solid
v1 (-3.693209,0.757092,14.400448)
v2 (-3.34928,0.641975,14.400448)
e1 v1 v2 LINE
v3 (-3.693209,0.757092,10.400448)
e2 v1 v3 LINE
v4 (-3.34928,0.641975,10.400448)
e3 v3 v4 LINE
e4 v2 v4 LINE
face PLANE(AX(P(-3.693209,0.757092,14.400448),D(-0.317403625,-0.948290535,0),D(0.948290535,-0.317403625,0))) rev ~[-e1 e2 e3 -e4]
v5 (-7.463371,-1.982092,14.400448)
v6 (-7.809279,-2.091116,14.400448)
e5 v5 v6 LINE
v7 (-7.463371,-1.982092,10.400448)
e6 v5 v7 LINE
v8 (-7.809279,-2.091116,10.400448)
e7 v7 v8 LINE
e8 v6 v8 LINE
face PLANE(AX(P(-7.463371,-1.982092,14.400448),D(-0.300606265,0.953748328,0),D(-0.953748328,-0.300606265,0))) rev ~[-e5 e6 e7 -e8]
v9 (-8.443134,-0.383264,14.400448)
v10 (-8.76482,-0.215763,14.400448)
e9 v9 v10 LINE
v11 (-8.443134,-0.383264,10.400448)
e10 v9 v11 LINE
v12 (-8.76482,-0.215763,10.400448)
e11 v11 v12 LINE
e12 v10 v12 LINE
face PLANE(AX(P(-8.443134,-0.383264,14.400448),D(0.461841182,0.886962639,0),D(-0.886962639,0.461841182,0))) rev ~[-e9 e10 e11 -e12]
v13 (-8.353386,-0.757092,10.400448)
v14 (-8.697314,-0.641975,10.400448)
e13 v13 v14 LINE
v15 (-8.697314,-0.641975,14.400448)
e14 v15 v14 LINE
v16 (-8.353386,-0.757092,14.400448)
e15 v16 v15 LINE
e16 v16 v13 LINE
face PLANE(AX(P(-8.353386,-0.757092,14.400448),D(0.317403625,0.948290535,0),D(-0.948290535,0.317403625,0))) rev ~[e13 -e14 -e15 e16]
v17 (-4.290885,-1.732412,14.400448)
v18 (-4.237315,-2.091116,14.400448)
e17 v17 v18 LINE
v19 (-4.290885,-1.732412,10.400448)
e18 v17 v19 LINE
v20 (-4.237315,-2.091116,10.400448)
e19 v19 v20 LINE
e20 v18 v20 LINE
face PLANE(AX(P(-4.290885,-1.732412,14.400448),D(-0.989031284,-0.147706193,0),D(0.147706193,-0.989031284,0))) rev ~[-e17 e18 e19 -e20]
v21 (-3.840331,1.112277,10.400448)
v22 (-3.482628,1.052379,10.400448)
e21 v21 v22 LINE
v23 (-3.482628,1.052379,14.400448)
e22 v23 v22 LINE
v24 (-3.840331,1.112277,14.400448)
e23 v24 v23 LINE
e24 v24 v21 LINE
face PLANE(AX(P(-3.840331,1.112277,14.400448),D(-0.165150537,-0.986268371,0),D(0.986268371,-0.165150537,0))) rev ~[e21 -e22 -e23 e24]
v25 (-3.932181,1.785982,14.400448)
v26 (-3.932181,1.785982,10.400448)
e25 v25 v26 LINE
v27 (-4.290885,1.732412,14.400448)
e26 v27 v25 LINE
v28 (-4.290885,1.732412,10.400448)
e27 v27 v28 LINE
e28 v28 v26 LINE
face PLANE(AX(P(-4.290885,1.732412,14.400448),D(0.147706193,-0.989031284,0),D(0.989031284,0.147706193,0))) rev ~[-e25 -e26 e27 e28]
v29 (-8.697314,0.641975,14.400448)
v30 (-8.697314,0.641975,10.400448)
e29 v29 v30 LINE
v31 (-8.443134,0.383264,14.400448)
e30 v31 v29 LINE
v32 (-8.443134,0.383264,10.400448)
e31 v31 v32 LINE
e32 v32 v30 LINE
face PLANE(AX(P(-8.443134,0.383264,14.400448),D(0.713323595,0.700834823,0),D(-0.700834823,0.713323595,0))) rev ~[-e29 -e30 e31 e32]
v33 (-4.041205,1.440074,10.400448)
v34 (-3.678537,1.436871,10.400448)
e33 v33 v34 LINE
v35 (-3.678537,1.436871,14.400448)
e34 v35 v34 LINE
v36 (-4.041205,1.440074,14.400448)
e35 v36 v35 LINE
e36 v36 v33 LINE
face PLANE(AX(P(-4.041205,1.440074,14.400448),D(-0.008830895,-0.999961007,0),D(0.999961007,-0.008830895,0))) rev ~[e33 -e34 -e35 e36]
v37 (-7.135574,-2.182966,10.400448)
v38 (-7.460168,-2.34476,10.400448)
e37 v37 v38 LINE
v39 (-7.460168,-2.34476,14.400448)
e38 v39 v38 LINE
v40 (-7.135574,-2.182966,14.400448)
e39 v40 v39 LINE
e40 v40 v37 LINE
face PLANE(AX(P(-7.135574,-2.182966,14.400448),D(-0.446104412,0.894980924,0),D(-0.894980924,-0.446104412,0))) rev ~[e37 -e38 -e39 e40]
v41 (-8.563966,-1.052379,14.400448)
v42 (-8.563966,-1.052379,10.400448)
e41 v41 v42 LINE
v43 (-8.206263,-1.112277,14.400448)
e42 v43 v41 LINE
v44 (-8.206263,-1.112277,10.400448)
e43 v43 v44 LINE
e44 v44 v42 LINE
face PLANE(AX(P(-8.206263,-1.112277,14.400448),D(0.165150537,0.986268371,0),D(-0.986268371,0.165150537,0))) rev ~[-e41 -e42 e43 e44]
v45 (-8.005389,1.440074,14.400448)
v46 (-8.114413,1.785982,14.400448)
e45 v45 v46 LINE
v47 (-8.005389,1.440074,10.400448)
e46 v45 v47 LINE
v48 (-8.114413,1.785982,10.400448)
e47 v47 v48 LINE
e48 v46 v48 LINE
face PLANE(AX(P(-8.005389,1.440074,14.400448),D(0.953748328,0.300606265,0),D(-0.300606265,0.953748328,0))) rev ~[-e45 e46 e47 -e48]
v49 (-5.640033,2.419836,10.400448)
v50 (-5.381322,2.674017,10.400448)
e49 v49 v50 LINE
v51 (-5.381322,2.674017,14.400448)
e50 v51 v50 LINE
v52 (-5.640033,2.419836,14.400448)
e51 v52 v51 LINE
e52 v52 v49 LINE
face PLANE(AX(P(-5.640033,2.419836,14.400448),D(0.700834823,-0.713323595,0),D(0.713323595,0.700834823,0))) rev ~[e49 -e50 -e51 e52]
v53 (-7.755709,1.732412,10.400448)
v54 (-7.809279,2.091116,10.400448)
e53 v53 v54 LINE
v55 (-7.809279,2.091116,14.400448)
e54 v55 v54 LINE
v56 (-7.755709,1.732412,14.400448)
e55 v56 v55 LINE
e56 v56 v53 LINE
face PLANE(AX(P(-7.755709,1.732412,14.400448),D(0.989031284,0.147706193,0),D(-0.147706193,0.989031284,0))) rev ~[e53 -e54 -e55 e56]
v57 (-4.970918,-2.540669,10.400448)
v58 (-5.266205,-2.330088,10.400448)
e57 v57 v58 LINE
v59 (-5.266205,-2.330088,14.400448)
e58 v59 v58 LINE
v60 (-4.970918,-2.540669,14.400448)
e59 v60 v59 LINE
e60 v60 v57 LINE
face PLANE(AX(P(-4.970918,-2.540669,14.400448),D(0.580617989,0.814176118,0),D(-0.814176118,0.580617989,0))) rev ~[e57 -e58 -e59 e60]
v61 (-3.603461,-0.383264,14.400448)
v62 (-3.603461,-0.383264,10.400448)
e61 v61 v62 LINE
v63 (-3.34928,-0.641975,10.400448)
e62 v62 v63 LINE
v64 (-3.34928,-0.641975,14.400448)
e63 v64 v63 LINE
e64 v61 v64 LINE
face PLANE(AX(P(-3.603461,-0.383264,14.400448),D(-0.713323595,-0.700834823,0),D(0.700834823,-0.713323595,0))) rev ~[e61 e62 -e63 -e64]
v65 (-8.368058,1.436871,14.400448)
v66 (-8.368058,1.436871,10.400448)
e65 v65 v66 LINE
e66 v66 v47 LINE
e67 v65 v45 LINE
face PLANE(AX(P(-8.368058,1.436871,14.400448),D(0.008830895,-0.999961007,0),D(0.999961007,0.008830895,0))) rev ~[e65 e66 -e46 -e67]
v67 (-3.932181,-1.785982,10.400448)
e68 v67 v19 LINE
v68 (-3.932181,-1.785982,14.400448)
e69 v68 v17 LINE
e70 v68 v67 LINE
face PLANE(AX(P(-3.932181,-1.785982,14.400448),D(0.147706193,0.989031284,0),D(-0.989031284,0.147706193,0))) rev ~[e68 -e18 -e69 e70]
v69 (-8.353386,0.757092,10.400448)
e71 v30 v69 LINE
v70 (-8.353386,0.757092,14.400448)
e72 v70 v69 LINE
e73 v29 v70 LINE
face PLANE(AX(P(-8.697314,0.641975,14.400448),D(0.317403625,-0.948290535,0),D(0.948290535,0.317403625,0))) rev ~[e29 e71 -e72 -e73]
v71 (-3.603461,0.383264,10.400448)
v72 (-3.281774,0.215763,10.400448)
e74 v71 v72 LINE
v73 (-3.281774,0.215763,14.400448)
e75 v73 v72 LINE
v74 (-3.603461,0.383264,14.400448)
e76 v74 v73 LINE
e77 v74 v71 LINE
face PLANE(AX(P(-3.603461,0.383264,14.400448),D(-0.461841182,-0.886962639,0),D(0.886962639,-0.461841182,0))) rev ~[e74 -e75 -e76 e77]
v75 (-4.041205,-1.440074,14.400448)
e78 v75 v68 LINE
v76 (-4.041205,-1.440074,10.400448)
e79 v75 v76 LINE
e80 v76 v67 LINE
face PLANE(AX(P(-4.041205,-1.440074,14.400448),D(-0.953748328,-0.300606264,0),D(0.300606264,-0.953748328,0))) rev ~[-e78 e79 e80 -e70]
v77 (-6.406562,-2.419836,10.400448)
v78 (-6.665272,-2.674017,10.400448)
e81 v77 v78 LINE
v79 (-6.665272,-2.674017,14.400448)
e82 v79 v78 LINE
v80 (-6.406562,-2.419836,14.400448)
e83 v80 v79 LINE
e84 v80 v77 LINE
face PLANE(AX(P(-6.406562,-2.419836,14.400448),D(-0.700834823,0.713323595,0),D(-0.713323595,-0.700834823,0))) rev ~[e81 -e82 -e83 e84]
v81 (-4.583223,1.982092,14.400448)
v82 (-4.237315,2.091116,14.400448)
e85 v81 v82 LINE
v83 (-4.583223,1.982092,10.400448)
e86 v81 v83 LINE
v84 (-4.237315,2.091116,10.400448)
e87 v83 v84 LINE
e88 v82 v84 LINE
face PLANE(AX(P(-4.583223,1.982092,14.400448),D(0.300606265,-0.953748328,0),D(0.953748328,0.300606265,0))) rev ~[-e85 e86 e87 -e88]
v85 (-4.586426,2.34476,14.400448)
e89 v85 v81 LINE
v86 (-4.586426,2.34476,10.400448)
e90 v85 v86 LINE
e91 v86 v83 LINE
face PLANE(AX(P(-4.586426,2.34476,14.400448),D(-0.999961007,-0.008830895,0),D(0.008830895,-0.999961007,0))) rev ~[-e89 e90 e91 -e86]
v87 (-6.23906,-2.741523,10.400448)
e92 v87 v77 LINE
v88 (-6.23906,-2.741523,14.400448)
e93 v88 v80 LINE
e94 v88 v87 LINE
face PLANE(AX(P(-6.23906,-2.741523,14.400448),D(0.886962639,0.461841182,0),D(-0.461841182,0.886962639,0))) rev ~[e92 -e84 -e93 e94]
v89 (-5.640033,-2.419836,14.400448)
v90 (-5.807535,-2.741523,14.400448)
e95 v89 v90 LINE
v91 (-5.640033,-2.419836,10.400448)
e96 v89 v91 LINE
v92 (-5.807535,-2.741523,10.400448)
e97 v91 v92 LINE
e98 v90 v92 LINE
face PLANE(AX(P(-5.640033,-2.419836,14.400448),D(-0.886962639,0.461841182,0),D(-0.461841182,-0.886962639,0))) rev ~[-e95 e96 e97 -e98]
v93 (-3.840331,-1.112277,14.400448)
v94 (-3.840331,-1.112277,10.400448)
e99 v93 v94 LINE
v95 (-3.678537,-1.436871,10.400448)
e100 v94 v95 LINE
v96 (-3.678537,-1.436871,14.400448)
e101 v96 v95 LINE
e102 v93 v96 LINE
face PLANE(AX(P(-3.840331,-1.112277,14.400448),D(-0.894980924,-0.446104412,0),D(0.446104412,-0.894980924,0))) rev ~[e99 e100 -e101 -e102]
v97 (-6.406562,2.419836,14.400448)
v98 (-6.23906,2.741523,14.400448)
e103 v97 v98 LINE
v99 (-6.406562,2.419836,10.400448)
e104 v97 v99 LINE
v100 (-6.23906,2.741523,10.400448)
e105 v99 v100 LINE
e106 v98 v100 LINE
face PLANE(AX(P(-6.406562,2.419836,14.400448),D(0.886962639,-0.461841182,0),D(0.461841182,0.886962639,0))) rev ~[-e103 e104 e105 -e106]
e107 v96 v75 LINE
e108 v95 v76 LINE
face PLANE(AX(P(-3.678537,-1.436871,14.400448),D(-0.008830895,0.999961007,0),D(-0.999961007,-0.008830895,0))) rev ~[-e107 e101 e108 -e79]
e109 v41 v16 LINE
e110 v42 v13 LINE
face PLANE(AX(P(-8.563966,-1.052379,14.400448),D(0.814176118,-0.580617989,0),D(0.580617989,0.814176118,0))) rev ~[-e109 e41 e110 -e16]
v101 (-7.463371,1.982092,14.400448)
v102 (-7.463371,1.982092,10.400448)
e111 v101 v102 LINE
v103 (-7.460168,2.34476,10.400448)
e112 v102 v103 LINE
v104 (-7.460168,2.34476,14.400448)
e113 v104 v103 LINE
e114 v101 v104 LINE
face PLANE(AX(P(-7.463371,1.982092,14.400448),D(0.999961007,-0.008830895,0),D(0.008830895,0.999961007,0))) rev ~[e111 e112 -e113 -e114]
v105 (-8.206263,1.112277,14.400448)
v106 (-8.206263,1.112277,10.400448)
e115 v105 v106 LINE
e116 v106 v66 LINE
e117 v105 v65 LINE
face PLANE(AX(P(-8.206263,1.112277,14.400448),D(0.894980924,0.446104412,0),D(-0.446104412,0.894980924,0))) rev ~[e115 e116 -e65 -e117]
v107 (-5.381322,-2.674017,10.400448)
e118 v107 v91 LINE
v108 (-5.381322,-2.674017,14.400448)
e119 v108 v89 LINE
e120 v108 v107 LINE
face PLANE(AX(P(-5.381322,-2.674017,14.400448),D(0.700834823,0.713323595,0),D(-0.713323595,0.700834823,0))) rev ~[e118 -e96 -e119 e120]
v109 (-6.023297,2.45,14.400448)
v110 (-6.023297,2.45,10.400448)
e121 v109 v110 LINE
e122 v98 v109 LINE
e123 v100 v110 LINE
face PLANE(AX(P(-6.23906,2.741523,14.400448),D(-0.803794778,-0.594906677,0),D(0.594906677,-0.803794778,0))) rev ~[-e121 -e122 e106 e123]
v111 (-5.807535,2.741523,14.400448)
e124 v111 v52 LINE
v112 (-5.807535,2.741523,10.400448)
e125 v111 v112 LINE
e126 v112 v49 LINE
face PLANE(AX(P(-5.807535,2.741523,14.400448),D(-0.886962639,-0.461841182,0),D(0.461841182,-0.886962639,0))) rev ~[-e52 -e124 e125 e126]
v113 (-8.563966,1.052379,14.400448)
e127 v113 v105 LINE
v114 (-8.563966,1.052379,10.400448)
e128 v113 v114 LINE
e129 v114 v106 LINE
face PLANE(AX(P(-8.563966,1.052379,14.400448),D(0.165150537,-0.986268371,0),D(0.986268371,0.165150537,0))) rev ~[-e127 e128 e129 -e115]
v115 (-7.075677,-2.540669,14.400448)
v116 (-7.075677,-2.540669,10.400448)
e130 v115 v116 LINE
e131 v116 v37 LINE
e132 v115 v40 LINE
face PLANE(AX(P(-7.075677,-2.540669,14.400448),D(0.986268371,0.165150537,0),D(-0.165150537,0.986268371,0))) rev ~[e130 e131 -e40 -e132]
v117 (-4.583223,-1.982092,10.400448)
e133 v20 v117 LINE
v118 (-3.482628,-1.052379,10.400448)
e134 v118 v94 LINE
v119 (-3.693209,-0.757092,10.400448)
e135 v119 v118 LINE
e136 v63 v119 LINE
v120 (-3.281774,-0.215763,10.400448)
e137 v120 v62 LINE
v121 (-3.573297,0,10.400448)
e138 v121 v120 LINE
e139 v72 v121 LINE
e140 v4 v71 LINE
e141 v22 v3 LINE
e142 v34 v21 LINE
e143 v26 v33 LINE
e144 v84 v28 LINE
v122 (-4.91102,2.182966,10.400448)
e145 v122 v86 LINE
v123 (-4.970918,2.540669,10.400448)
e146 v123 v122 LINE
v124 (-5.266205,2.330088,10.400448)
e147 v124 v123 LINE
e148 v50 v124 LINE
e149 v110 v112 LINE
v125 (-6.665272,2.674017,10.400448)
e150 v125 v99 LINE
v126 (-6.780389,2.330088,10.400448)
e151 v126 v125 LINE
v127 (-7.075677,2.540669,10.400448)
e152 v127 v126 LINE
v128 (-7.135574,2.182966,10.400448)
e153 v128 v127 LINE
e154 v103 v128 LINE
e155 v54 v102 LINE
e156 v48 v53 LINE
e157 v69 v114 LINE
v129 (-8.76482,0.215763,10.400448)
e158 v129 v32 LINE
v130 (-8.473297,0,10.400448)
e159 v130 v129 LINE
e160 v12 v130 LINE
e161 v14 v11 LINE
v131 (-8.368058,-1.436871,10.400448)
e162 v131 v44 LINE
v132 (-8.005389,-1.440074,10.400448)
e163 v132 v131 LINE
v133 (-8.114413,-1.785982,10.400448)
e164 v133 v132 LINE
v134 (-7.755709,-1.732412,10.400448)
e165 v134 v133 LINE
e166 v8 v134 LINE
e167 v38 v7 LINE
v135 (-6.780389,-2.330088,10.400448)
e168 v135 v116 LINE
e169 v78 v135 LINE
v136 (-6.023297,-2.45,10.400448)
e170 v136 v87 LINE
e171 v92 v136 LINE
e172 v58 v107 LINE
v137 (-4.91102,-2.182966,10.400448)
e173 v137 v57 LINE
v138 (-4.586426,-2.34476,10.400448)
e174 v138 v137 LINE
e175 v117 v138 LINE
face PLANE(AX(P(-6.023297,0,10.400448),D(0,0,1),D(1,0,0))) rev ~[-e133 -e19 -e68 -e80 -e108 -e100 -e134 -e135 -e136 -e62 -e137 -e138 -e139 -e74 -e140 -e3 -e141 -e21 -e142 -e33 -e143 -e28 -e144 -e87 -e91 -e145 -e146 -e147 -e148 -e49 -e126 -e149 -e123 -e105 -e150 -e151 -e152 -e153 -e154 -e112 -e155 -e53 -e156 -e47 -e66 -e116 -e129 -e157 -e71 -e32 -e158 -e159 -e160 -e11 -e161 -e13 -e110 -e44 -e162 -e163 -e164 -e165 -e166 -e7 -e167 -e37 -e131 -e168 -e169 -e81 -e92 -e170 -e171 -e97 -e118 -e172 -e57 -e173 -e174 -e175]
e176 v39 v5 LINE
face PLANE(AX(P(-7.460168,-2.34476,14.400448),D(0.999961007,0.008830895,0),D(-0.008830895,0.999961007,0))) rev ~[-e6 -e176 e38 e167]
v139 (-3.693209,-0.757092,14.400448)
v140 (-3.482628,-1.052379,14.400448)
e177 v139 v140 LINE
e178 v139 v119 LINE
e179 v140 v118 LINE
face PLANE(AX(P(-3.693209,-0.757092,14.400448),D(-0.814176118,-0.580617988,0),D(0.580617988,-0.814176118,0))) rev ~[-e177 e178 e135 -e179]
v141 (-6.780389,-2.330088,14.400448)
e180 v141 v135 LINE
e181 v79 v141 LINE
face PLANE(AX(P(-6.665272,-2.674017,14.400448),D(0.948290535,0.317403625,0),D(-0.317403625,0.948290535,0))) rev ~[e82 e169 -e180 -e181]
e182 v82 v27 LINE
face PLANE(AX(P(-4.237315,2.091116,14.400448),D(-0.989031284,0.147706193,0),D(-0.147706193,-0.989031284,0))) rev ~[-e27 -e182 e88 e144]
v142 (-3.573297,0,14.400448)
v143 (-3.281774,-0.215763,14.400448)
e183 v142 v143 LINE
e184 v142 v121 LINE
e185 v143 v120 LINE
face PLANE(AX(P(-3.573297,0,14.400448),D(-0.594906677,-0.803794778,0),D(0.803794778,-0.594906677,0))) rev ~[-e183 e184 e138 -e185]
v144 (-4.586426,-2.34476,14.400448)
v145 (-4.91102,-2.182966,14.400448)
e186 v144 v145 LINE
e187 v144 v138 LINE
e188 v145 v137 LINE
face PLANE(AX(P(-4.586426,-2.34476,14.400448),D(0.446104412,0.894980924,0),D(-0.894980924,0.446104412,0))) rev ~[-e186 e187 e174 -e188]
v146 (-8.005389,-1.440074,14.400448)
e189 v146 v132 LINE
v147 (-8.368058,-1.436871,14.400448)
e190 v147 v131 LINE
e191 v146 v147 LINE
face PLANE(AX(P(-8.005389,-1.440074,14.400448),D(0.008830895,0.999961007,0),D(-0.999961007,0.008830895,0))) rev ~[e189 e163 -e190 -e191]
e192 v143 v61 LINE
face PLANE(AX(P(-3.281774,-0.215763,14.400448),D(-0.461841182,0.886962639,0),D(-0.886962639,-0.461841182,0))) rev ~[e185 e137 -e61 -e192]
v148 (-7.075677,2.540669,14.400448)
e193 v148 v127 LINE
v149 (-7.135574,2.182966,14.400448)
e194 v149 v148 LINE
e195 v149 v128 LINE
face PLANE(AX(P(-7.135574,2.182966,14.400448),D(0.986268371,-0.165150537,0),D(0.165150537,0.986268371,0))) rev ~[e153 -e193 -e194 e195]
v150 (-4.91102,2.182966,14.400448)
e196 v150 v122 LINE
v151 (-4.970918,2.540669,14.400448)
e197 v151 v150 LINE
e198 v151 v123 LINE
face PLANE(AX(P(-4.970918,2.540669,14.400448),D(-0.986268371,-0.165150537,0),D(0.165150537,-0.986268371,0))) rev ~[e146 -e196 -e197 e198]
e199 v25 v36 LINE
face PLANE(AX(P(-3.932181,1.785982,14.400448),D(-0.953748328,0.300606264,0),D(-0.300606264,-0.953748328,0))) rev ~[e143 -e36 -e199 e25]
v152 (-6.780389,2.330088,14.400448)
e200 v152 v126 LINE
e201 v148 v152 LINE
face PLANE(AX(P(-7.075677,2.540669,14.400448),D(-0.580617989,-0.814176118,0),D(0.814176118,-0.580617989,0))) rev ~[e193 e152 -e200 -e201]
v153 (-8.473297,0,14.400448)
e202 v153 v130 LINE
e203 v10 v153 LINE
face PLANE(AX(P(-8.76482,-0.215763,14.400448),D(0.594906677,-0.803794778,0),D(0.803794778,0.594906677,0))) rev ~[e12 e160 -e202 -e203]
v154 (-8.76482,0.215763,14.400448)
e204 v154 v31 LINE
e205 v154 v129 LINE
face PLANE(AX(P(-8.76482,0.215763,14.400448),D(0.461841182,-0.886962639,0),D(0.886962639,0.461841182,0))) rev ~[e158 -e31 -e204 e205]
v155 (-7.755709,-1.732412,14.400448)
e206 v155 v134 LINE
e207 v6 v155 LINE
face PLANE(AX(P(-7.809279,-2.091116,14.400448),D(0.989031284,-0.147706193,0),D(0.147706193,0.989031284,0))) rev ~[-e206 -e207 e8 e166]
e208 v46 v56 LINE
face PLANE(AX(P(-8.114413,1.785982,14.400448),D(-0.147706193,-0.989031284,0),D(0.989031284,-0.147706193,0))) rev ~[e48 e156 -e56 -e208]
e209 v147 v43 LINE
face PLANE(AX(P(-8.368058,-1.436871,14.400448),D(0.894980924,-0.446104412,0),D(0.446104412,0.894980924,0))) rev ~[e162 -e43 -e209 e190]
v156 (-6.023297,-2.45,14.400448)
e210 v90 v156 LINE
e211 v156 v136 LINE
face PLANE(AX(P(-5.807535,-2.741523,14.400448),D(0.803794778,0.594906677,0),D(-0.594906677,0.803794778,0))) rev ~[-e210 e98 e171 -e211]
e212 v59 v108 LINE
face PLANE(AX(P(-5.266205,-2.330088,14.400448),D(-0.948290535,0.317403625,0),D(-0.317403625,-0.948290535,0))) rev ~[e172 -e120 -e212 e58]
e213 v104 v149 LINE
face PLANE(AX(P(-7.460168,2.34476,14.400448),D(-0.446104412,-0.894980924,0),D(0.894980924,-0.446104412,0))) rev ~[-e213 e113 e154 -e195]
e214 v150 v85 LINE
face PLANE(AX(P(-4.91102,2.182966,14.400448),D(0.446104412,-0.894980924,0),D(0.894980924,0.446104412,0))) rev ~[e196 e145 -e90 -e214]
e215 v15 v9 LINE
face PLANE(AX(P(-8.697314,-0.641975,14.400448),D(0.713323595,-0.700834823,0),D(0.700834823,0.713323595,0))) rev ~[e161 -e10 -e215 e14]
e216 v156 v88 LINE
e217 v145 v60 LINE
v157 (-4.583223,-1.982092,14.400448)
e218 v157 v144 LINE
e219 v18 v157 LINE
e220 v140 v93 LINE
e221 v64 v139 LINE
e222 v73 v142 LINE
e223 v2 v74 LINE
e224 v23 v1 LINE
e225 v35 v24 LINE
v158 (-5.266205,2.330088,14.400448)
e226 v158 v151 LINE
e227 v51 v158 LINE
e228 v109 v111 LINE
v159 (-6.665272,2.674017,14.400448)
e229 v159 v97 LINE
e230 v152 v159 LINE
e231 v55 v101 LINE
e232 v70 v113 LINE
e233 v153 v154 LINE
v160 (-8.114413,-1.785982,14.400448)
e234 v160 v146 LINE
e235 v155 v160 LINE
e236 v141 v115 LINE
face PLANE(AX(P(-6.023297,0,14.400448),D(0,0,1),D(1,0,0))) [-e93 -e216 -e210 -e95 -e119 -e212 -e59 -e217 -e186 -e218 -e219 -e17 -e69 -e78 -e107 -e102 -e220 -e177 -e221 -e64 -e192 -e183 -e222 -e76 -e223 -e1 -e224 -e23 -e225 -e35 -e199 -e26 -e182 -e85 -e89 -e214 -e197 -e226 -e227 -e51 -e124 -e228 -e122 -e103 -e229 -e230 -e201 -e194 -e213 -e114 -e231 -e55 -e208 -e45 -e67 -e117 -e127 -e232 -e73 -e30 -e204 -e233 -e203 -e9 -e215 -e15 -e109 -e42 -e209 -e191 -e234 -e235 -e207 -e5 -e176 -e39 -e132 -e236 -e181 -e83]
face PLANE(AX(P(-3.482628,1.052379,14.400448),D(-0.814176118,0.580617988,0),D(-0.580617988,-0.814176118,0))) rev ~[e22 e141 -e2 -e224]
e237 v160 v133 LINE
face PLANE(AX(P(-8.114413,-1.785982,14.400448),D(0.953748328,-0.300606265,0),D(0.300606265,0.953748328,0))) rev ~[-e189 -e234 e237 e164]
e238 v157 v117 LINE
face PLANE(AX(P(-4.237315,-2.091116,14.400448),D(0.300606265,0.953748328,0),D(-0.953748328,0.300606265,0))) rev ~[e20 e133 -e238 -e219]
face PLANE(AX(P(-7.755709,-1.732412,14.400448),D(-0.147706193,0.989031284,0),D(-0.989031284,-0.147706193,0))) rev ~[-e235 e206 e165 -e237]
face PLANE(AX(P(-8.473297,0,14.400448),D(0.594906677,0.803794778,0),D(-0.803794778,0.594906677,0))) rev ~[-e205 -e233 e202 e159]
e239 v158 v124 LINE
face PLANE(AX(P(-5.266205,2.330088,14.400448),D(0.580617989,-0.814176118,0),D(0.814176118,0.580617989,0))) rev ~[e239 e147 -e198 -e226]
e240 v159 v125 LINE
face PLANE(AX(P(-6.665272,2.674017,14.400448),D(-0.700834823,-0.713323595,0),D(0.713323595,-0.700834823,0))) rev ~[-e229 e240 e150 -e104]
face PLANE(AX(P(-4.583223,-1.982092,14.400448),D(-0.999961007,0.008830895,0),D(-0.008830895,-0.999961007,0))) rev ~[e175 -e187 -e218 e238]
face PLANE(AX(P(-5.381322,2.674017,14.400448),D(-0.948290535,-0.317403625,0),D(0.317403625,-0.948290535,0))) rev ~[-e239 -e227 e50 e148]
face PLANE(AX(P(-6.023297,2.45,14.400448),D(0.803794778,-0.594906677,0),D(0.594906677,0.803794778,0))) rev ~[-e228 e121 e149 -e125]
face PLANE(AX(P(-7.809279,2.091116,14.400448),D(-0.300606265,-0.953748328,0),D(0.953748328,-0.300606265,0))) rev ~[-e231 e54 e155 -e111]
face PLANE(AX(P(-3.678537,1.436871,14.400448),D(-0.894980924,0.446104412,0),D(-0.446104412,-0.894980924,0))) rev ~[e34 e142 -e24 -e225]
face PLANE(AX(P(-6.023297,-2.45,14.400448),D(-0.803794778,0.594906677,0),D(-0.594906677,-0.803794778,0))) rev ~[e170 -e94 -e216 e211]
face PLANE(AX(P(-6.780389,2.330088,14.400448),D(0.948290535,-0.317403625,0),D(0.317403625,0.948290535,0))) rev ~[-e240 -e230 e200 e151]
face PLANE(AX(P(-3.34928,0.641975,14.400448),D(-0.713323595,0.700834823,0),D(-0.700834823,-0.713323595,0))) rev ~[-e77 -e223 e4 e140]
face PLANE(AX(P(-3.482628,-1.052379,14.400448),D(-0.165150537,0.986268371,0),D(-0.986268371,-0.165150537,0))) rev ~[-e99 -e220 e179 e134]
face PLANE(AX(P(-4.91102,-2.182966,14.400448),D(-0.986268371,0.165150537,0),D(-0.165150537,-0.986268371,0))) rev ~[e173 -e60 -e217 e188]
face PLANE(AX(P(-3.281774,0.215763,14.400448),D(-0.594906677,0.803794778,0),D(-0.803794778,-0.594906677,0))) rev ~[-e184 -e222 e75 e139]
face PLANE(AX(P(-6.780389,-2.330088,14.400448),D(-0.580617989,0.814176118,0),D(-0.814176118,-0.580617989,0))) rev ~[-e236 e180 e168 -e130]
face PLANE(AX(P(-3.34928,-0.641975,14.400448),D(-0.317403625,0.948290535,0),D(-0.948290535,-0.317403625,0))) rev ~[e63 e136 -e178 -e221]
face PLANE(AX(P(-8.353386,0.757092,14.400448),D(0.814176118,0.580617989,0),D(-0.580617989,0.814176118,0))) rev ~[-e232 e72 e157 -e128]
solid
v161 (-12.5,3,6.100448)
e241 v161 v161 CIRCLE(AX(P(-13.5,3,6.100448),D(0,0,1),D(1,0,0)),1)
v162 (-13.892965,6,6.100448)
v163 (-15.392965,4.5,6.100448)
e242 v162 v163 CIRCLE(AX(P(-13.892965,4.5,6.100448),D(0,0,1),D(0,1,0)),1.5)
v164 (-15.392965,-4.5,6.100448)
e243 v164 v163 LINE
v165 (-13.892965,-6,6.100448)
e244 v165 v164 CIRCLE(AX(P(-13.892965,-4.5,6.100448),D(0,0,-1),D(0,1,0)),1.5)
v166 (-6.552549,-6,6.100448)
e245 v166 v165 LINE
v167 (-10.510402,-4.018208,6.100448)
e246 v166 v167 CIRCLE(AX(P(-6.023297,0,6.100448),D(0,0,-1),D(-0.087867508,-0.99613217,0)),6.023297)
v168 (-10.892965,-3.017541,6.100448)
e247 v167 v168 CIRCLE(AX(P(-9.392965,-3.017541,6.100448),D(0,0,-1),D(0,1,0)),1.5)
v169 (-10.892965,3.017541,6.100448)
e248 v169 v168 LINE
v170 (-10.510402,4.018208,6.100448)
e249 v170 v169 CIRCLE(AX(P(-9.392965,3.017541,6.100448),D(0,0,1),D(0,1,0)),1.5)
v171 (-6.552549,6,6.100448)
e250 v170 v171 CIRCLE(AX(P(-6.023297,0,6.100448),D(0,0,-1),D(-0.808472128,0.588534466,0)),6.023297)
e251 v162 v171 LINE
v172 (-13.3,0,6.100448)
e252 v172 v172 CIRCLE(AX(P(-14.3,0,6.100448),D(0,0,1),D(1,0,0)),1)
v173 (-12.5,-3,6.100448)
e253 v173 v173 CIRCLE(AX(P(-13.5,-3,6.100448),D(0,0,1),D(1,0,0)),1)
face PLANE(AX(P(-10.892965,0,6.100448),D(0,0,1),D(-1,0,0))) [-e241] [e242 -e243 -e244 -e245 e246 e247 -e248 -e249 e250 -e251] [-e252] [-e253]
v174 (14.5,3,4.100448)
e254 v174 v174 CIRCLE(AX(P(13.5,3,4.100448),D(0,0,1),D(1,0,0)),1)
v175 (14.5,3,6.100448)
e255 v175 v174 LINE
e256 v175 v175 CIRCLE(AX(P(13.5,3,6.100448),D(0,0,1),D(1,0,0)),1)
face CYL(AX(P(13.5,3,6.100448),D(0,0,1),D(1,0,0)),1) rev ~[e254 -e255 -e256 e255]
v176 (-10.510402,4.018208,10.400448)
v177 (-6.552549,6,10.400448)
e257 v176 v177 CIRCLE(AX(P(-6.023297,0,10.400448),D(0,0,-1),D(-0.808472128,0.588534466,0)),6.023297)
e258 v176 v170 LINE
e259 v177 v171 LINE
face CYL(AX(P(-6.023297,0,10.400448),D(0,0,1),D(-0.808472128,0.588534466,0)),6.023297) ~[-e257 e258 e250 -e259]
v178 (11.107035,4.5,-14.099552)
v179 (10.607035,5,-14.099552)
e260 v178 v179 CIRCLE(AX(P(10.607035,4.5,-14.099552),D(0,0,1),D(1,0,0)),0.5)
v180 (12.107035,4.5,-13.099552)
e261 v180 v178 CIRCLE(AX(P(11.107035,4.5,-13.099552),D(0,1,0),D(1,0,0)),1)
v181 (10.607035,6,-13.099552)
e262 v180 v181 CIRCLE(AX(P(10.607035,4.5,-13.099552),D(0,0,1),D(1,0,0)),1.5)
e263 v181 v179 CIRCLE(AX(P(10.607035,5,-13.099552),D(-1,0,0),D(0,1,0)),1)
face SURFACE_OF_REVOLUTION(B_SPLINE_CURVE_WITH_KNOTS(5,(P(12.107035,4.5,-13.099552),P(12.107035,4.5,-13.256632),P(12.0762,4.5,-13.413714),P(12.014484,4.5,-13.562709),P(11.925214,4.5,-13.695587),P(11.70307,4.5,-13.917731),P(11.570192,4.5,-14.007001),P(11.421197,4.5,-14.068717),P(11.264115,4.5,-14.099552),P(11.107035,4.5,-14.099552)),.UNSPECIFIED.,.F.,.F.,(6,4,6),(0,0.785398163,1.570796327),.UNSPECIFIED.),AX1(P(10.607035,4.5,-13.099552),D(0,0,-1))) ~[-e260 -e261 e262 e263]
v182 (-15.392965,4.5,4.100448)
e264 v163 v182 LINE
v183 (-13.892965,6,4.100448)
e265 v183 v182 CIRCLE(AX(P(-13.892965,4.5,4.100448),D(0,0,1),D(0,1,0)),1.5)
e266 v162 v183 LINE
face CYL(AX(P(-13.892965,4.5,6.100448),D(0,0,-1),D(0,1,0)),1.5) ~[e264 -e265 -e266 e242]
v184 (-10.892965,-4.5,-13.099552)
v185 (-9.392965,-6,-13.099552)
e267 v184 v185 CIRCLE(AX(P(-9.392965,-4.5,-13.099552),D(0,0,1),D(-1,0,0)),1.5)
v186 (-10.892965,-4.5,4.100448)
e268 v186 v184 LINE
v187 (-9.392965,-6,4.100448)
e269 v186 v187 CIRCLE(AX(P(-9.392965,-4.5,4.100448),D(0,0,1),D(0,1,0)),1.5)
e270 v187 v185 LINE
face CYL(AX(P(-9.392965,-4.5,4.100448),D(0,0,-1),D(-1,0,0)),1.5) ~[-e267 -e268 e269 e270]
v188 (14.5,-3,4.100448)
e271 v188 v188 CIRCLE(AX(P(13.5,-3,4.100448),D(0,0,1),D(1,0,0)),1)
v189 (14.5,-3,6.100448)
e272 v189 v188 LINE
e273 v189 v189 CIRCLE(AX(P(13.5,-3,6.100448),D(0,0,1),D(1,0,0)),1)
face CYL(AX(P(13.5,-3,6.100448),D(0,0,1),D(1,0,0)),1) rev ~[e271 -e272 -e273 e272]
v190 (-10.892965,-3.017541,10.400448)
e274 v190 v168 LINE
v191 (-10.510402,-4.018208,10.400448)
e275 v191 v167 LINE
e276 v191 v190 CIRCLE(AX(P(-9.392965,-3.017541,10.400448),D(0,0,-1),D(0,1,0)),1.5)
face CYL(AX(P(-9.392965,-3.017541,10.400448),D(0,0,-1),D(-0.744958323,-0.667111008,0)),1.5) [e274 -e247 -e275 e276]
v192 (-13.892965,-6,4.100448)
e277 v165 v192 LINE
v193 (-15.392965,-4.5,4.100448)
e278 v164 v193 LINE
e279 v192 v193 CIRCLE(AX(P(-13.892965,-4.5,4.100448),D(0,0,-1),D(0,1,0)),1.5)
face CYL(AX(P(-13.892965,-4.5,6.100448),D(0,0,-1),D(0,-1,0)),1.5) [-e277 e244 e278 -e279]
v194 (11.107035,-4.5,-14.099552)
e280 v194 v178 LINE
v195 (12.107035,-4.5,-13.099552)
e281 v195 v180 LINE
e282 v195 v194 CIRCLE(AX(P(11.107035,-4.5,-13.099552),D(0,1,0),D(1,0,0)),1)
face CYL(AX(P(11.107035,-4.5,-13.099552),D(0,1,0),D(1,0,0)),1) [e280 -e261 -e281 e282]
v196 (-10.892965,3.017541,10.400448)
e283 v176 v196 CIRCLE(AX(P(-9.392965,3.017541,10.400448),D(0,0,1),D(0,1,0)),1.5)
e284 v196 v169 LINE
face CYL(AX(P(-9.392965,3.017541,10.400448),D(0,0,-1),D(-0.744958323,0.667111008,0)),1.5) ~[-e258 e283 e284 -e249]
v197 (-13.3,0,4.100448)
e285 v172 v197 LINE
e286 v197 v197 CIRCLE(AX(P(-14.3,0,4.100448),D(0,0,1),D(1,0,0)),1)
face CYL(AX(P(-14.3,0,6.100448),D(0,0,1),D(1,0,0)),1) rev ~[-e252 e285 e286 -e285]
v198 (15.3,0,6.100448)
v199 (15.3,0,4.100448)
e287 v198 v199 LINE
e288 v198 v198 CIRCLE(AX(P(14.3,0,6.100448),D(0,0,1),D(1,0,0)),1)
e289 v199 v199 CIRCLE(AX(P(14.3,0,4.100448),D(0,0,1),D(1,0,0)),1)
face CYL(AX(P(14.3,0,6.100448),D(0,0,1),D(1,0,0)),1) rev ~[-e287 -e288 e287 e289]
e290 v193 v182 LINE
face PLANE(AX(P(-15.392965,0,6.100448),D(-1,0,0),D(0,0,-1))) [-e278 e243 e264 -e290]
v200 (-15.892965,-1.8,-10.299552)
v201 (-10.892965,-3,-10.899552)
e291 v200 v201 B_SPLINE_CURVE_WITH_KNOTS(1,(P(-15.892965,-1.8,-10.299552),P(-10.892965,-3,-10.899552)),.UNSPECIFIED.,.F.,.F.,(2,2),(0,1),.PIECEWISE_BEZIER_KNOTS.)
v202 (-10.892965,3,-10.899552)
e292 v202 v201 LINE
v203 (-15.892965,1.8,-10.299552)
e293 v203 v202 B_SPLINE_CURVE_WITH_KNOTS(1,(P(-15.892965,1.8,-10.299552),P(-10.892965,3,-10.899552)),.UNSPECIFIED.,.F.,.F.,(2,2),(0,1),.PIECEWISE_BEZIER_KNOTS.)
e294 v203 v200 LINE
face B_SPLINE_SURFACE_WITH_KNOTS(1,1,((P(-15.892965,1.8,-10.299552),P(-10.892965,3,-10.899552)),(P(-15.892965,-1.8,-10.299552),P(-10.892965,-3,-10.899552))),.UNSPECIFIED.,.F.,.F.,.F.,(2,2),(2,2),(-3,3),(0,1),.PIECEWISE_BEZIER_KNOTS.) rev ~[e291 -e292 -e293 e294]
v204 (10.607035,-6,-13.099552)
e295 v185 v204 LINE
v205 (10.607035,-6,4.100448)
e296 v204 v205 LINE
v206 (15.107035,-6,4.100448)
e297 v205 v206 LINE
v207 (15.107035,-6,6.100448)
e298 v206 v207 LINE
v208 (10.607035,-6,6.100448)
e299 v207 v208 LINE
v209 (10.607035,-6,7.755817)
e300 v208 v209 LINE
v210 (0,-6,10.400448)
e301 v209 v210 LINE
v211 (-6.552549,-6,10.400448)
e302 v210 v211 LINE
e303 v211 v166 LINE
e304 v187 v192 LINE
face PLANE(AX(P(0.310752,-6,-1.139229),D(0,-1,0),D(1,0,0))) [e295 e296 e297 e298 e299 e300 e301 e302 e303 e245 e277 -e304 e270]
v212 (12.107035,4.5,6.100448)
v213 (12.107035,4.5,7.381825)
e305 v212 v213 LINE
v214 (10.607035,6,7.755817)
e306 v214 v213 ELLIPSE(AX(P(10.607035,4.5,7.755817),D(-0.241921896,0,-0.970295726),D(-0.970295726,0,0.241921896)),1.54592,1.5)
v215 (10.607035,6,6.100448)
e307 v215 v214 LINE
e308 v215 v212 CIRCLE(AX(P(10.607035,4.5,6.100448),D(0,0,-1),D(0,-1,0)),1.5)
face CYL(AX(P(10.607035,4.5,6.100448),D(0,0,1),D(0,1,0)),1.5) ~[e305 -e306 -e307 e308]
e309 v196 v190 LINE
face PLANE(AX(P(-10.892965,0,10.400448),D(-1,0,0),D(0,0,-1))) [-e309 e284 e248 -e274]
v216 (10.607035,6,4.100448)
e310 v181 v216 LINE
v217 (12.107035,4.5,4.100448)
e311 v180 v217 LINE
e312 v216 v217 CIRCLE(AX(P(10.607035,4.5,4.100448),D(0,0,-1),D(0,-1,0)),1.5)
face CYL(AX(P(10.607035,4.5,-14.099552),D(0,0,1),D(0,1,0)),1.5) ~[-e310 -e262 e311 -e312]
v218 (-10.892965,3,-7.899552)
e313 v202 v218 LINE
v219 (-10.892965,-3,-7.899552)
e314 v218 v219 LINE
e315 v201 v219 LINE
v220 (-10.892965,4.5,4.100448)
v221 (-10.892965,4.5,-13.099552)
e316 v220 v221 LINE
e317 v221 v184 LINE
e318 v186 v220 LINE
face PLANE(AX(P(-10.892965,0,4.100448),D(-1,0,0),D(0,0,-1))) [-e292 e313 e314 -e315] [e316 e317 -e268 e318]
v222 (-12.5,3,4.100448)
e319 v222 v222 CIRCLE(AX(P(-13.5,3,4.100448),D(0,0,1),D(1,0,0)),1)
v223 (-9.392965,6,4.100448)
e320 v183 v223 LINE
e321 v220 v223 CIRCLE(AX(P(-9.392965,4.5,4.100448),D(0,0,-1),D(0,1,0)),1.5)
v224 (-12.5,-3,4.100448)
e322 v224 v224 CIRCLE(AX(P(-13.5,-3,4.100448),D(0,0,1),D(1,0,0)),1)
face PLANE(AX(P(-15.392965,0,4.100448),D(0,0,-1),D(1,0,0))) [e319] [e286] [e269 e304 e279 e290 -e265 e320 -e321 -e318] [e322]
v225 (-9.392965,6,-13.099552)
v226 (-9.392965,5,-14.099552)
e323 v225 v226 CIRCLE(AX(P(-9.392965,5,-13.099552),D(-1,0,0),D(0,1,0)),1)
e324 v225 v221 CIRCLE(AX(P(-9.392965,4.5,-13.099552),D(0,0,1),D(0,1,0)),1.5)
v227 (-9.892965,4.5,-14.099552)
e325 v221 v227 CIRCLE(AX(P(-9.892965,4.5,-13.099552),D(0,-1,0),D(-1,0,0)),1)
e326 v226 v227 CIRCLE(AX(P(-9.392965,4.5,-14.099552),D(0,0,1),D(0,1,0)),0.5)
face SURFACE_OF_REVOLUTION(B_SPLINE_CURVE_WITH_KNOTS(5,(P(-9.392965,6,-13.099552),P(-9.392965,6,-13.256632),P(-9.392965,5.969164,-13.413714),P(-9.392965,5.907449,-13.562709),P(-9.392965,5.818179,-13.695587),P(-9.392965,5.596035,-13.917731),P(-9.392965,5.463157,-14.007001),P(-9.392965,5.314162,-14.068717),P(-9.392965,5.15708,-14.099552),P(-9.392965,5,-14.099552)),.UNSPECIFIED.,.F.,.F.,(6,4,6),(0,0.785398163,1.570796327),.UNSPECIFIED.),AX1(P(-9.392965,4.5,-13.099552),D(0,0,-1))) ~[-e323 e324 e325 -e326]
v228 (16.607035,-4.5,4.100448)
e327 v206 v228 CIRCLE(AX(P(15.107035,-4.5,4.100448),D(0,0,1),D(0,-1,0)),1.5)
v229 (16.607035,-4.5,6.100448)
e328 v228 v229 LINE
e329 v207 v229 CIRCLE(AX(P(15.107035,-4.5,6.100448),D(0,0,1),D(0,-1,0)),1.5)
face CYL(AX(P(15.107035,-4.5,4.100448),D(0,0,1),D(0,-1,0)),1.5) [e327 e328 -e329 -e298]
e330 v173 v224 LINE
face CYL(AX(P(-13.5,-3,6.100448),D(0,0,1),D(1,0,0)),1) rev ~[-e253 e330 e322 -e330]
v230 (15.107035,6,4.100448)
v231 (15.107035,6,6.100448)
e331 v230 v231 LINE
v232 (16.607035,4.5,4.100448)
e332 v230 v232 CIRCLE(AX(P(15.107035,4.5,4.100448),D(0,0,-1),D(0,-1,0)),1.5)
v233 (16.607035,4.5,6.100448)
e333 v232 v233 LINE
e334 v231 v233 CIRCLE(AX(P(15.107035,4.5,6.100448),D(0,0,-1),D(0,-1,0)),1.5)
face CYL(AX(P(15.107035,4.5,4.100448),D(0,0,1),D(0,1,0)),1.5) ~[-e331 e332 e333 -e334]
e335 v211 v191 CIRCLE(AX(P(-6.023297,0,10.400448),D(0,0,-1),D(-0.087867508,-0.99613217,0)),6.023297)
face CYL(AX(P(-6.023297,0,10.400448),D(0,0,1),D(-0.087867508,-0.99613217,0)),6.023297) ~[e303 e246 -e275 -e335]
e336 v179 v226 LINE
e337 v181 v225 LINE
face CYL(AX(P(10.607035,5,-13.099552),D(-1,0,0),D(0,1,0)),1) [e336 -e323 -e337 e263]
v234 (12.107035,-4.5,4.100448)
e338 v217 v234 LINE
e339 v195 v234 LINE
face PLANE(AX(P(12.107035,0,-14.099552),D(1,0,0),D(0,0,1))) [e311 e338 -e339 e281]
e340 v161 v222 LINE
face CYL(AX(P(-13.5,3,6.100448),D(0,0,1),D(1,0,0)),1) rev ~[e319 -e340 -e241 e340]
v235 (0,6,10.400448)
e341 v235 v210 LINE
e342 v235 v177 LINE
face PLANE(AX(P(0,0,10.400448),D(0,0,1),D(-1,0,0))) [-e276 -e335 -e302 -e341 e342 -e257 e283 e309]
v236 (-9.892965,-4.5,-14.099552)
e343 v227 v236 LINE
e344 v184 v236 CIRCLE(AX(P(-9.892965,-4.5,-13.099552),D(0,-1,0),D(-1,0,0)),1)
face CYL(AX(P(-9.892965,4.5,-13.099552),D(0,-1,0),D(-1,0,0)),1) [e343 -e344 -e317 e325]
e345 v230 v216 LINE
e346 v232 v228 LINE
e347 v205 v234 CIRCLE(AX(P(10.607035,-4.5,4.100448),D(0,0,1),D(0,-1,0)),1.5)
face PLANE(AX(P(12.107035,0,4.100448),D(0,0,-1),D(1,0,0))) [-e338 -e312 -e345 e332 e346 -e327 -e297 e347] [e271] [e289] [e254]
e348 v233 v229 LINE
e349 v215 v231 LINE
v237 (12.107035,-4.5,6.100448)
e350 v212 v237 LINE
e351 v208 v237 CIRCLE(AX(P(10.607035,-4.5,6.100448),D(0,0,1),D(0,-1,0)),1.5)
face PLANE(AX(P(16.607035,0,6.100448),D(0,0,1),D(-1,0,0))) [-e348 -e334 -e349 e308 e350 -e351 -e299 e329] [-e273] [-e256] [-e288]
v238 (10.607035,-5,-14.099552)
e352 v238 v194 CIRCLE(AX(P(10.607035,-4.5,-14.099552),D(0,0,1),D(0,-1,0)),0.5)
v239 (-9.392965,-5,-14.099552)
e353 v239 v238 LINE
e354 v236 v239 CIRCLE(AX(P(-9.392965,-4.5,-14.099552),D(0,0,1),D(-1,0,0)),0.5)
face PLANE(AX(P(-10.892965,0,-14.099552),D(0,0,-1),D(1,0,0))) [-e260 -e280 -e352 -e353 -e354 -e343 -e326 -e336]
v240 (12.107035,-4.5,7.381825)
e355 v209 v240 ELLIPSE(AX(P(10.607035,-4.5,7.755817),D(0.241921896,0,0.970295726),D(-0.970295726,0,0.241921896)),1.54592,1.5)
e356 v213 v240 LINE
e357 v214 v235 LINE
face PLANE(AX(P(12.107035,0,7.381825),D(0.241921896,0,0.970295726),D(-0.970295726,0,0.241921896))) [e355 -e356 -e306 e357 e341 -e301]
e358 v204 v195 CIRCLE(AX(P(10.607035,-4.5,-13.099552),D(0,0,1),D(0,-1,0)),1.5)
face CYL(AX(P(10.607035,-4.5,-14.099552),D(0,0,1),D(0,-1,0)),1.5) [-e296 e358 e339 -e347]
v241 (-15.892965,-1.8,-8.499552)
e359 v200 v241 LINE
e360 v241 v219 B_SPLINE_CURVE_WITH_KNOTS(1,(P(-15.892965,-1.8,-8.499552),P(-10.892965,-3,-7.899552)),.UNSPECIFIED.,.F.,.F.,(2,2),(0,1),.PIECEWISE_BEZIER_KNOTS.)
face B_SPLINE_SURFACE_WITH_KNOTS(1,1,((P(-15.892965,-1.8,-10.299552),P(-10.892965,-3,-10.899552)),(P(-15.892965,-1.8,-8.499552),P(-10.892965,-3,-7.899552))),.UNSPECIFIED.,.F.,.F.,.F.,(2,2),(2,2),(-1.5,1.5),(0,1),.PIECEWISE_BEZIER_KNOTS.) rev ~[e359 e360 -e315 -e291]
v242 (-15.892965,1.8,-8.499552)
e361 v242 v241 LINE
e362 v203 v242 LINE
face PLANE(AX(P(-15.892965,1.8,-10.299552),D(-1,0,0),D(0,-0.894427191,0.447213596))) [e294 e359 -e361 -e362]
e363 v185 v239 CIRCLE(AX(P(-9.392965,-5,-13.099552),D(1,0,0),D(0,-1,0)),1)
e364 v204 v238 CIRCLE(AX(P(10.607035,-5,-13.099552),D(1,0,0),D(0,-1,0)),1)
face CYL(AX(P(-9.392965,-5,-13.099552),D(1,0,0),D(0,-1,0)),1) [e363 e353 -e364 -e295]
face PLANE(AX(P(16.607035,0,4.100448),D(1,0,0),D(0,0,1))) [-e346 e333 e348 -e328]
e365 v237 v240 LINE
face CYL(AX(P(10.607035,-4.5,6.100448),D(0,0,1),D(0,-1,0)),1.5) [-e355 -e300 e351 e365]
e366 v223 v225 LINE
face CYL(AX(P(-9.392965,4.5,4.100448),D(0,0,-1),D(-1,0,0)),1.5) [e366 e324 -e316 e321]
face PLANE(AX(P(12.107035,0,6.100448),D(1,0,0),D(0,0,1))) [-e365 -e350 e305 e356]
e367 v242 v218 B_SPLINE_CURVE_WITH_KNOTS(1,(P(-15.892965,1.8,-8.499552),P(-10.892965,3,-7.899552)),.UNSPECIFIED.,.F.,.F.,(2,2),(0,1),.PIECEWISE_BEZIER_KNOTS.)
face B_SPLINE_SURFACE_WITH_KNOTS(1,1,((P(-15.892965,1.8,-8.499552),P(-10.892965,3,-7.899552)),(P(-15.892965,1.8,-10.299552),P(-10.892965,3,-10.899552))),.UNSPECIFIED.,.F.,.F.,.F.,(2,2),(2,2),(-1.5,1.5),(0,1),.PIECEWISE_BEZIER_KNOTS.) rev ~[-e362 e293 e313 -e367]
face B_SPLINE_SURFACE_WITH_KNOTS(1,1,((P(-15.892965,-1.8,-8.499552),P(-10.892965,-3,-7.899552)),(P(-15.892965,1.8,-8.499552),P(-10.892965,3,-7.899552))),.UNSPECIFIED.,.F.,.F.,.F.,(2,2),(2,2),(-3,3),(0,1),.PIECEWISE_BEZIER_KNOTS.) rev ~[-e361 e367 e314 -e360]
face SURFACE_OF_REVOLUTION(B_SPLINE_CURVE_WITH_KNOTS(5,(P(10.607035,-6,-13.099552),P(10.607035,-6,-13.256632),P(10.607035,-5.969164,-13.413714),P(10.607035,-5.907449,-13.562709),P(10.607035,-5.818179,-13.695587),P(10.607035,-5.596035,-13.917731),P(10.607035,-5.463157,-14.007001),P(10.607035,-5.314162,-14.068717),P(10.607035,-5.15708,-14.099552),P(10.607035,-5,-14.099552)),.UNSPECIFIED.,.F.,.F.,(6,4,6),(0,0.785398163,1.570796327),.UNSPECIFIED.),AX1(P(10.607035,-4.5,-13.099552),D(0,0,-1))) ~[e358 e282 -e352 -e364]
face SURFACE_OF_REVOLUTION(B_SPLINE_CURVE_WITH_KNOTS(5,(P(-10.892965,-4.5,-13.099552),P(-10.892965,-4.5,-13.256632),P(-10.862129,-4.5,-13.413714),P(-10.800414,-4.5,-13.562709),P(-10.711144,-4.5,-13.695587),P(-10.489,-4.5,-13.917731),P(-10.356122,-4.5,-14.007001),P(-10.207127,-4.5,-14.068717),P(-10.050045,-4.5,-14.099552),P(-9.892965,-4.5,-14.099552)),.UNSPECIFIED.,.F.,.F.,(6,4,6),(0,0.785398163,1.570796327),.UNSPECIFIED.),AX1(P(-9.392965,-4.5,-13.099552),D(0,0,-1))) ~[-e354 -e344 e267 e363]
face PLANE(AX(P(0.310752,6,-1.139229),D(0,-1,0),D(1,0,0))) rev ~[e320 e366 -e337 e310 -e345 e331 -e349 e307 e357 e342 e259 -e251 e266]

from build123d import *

# Parameters (mm, degrees)
F2_DEPTH  = 6
F4_R      = 1
F5_DEPTH  = 2
F7_DEPTH  = 4.3
F8_R      = 2.75
F9_DEPTH  = 4
F10_R     = 7.75
F11_DEPTH = 4
F14_W     = 3.6
F14_H     = 1.8
F12_W     = 6
F12_H     = 3
F16_R     = 1.5
F17_R     = 1


with BuildPart() as f2:
    # F1 (on Front) → F2 (new body, symmetric)
    with BuildSketch(Plane.XZ):
        Polygon((-10.8929648995, 4.1004477039), (-10.8929648995, -14.0995522961), (12.1070351005, -14.0995522961), (12.1070351005, 4.1004477039), (16.6070351005, 4.1004477039), (16.6070351005, 6.1004477039), (12.1070351005, 6.1004477039), (12.1070351005, 7.3818248219), (0, 10.4004477039), (-10.8929648995, 10.4004477039), (-10.8929648995, 6.1004477039), (-15.3929648995, 6.1004477039), (-15.3929648995, 4.1004477039), align=None)
    extrude(amount=F2_DEPTH, both=True)

    # F4 (on offset) → F5 (cut, through all)
    with BuildSketch(Plane.XY.offset(6.1004477039)):
        with Locations((-13.5, 3)):
            Circle(F4_R)
        with Locations((-13.5, -3)):
            Circle(F4_R)
        with Locations((13.5, 3)):
            Circle(F4_R)
        with Locations((13.5, -3)):
            Circle(F4_R)
        with Locations((-14.3, 0)):
            Circle(F4_R)
        with Locations((14.3, 0)):
            Circle(F4_R)
    extrude(amount=-F5_DEPTH, mode=Mode.SUBTRACT)

    # F6 (on face) → F7 (cut, through all)
    with BuildSketch(Plane.XY.offset(10.4004477039)):
        with BuildLine():
            ThreePointArc((-10.8929648995, 3.544917937), (-8.9887550703, 5.242725125), (-6.5525491912, 6))
            Line((-6.5525491912, 6), (-10.8929648995, 6))
            Line((-10.8929648995, 6), (-10.8929648995, 3.544917937))
        make_face()
        with BuildLine():
            Line((-10.8929648995, -6), (-6.5525491912, -6))
            ThreePointArc((-6.5525491912, -6), (-8.9887550703, -5.242725125), (-10.8929648995, -3.544917937))
            Line((-10.8929648995, -3.544917937), (-10.8929648995, -6))
        make_face()
    extrude(amount=-F7_DEPTH, mode=Mode.SUBTRACT)

    # F14 (on offset) → F15 section 0
    with BuildSketch(Plane(origin=(-15.8929648995, 0, 0), x_dir=(0, -1, 0), z_dir=(-1, 0, 0))):
        with Locations((0, -9.3995522961)):
            Rectangle(F14_W, F14_H)
    # F12 (on face) → F15 section 1
    with BuildSketch(Plane(origin=(-10.8929648995, 0, 0), x_dir=(0, -1, 0), z_dir=(-1, 0, 0))):
        with Locations((0, -9.3995522961)):
            Rectangle(F12_W, F12_H)
    loft()

    # F16
    f16_edges = [f2.edges().sort_by_distance(p)[0] for p in [
        (-15.392965, -6, 5.100448),
        (-15.392965, 6, 5.100448),
        (-10.892965, -3.544918, 8.250448),
        (-10.892965, 3.544918, 8.250448),
        (16.607035, -6, 5.100448),
        (16.607035, 6, 5.100448),
        (12.107035, -6, -4.999552),
        (12.107035, -6, 6.741136),
        (12.107035, 6, 6.741136),
        (12.107035, 6, -4.999552),
        (-10.892965, 6, -4.999552),
        (-10.892965, -6, -4.999552),
    ]]
    fillet(f16_edges, radius=F16_R)

    # F17
    f17_edges = [f2.edges().sort_by_distance(p)[0] for p in [
        (-10.892965, 0, -14.099552),
        (-10.453625, 5.56066, -14.099552),
        (-10.453625, -5.56066, -14.099552),
        (0.607035, 6, -14.099552),
        (0.607035, -6, -14.099552),
        (11.667695, 5.56066, -14.099552),
        (11.667695, -5.56066, -14.099552),
        (12.107035, 0, -14.099552),
    ]]
    fillet(f17_edges, radius=F17_R)


with BuildPart() as f9:
    # F8 (on face) → F9 (new body)
    with BuildSketch(Plane.XY.offset(10.4004477039)):
        with Locations((-6.0232970864, 0)):
            Circle(F8_R)
    extrude(amount=F9_DEPTH)

    # F10 (on face) → F11 (cut, through all)
    with BuildSketch(Plane.XY.offset(14.4004477039)):
        with Locations((-6.0232970864, 0)):
            Circle(F10_R)
        Polygon((-6.4065615257, 2.4198364345), (-6.2390595996, 2.7415226678), (-6.0232970864, 2.45), (-5.8075345731, 2.7415226678), (-5.640032647, 2.4198364345), (-5.3813223358, 2.6740172811), (-5.2662054501, 2.3300884649), (-4.9709176474, 2.5406687144), (-4.911020362, 2.1829659843), (-4.5864260334, 2.344760452), (-4.5832232182, 1.9820916362), (-4.2373149535, 2.0911164054), (-4.2908854725, 1.7324116139), (-3.932180681, 1.7859821329), (-4.0412054501, 1.4400738681), (-3.6785366344, 1.436871053), (-3.8403311021, 1.1122767244), (-3.482628372, 1.052379439), (-3.6932086214, 0.7570916362), (-3.3492798053, 0.6419747506), (-3.6034606519, 0.3832644393), (-3.2817744186, 0.2157625133), (-3.5732970864, 0), (-3.2817744186, -0.2157625133), (-3.6034606519, -0.3832644393), (-3.3492798053, -0.6419747506), (-3.6932086214, -0.7570916362), (-3.482628372, -1.052379439), (-3.8403311021, -1.1122767244), (-3.6785366344, -1.436871053), (-4.0412054501, -1.4400738681), (-3.932180681, -1.7859821329), (-4.2908854725, -1.7324116139), (-4.2373149535, -2.0911164054), (-4.5832232182, -1.9820916362), (-4.5864260334, -2.344760452), (-4.911020362, -2.1829659843), (-4.9709176474, -2.5406687144), (-5.2662054501, -2.3300884649), (-5.3813223358, -2.6740172811), (-5.640032647, -2.4198364345), (-5.8075345731, -2.7415226678), (-6.0232970864, -2.45), (-6.2390595996, -2.7415226678), (-6.4065615257, -2.4198364345), (-6.665271837, -2.6740172811), (-6.7803887226, -2.3300884649), (-7.0756765254, -2.5406687144), (-7.1355738107, -2.1829659843), (-7.4601681393, -2.344760452), (-7.4633709545, -1.9820916362), (-7.8092792193, -2.0911164054), (-7.7557087003, -1.7324116139), (-8.1144134918, -1.7859821329), (-8.0053887226, -1.4400738681), (-8.3680575383, -1.436871053), (-8.2062630706, -1.1122767244), (-8.5639658008, -1.052379439), (-8.3533855513, -0.7570916362), (-8.6973143675, -0.6419747506), (-8.4431335208, -0.3832644393), (-8.7648197541, -0.2157625133), (-8.4732970864, 0), (-8.7648197541, 0.2157625133), (-8.4431335208, 0.3832644393), (-8.6973143675, 0.6419747506), (-8.3533855513, 0.7570916362), (-8.5639658008, 1.052379439), (-8.2062630706, 1.1122767244), (-8.3680575383, 1.436871053), (-8.0053887226, 1.4400738681), (-8.1144134918, 1.7859821329), (-7.7557087003, 1.7324116139), (-7.8092792193, 2.0911164054), (-7.4633709545, 1.9820916362), (-7.4601681393, 2.344760452), (-7.1355738107, 2.1829659843), (-7.0756765254, 2.5406687144), (-6.7803887226, 2.3300884649), (-6.665271837, 2.6740172811), align=None, mode=Mode.SUBTRACT)
    extrude(amount=-F11_DEPTH, mode=Mode.SUBTRACT)


solid = Compound([f2.part, f9.part])
